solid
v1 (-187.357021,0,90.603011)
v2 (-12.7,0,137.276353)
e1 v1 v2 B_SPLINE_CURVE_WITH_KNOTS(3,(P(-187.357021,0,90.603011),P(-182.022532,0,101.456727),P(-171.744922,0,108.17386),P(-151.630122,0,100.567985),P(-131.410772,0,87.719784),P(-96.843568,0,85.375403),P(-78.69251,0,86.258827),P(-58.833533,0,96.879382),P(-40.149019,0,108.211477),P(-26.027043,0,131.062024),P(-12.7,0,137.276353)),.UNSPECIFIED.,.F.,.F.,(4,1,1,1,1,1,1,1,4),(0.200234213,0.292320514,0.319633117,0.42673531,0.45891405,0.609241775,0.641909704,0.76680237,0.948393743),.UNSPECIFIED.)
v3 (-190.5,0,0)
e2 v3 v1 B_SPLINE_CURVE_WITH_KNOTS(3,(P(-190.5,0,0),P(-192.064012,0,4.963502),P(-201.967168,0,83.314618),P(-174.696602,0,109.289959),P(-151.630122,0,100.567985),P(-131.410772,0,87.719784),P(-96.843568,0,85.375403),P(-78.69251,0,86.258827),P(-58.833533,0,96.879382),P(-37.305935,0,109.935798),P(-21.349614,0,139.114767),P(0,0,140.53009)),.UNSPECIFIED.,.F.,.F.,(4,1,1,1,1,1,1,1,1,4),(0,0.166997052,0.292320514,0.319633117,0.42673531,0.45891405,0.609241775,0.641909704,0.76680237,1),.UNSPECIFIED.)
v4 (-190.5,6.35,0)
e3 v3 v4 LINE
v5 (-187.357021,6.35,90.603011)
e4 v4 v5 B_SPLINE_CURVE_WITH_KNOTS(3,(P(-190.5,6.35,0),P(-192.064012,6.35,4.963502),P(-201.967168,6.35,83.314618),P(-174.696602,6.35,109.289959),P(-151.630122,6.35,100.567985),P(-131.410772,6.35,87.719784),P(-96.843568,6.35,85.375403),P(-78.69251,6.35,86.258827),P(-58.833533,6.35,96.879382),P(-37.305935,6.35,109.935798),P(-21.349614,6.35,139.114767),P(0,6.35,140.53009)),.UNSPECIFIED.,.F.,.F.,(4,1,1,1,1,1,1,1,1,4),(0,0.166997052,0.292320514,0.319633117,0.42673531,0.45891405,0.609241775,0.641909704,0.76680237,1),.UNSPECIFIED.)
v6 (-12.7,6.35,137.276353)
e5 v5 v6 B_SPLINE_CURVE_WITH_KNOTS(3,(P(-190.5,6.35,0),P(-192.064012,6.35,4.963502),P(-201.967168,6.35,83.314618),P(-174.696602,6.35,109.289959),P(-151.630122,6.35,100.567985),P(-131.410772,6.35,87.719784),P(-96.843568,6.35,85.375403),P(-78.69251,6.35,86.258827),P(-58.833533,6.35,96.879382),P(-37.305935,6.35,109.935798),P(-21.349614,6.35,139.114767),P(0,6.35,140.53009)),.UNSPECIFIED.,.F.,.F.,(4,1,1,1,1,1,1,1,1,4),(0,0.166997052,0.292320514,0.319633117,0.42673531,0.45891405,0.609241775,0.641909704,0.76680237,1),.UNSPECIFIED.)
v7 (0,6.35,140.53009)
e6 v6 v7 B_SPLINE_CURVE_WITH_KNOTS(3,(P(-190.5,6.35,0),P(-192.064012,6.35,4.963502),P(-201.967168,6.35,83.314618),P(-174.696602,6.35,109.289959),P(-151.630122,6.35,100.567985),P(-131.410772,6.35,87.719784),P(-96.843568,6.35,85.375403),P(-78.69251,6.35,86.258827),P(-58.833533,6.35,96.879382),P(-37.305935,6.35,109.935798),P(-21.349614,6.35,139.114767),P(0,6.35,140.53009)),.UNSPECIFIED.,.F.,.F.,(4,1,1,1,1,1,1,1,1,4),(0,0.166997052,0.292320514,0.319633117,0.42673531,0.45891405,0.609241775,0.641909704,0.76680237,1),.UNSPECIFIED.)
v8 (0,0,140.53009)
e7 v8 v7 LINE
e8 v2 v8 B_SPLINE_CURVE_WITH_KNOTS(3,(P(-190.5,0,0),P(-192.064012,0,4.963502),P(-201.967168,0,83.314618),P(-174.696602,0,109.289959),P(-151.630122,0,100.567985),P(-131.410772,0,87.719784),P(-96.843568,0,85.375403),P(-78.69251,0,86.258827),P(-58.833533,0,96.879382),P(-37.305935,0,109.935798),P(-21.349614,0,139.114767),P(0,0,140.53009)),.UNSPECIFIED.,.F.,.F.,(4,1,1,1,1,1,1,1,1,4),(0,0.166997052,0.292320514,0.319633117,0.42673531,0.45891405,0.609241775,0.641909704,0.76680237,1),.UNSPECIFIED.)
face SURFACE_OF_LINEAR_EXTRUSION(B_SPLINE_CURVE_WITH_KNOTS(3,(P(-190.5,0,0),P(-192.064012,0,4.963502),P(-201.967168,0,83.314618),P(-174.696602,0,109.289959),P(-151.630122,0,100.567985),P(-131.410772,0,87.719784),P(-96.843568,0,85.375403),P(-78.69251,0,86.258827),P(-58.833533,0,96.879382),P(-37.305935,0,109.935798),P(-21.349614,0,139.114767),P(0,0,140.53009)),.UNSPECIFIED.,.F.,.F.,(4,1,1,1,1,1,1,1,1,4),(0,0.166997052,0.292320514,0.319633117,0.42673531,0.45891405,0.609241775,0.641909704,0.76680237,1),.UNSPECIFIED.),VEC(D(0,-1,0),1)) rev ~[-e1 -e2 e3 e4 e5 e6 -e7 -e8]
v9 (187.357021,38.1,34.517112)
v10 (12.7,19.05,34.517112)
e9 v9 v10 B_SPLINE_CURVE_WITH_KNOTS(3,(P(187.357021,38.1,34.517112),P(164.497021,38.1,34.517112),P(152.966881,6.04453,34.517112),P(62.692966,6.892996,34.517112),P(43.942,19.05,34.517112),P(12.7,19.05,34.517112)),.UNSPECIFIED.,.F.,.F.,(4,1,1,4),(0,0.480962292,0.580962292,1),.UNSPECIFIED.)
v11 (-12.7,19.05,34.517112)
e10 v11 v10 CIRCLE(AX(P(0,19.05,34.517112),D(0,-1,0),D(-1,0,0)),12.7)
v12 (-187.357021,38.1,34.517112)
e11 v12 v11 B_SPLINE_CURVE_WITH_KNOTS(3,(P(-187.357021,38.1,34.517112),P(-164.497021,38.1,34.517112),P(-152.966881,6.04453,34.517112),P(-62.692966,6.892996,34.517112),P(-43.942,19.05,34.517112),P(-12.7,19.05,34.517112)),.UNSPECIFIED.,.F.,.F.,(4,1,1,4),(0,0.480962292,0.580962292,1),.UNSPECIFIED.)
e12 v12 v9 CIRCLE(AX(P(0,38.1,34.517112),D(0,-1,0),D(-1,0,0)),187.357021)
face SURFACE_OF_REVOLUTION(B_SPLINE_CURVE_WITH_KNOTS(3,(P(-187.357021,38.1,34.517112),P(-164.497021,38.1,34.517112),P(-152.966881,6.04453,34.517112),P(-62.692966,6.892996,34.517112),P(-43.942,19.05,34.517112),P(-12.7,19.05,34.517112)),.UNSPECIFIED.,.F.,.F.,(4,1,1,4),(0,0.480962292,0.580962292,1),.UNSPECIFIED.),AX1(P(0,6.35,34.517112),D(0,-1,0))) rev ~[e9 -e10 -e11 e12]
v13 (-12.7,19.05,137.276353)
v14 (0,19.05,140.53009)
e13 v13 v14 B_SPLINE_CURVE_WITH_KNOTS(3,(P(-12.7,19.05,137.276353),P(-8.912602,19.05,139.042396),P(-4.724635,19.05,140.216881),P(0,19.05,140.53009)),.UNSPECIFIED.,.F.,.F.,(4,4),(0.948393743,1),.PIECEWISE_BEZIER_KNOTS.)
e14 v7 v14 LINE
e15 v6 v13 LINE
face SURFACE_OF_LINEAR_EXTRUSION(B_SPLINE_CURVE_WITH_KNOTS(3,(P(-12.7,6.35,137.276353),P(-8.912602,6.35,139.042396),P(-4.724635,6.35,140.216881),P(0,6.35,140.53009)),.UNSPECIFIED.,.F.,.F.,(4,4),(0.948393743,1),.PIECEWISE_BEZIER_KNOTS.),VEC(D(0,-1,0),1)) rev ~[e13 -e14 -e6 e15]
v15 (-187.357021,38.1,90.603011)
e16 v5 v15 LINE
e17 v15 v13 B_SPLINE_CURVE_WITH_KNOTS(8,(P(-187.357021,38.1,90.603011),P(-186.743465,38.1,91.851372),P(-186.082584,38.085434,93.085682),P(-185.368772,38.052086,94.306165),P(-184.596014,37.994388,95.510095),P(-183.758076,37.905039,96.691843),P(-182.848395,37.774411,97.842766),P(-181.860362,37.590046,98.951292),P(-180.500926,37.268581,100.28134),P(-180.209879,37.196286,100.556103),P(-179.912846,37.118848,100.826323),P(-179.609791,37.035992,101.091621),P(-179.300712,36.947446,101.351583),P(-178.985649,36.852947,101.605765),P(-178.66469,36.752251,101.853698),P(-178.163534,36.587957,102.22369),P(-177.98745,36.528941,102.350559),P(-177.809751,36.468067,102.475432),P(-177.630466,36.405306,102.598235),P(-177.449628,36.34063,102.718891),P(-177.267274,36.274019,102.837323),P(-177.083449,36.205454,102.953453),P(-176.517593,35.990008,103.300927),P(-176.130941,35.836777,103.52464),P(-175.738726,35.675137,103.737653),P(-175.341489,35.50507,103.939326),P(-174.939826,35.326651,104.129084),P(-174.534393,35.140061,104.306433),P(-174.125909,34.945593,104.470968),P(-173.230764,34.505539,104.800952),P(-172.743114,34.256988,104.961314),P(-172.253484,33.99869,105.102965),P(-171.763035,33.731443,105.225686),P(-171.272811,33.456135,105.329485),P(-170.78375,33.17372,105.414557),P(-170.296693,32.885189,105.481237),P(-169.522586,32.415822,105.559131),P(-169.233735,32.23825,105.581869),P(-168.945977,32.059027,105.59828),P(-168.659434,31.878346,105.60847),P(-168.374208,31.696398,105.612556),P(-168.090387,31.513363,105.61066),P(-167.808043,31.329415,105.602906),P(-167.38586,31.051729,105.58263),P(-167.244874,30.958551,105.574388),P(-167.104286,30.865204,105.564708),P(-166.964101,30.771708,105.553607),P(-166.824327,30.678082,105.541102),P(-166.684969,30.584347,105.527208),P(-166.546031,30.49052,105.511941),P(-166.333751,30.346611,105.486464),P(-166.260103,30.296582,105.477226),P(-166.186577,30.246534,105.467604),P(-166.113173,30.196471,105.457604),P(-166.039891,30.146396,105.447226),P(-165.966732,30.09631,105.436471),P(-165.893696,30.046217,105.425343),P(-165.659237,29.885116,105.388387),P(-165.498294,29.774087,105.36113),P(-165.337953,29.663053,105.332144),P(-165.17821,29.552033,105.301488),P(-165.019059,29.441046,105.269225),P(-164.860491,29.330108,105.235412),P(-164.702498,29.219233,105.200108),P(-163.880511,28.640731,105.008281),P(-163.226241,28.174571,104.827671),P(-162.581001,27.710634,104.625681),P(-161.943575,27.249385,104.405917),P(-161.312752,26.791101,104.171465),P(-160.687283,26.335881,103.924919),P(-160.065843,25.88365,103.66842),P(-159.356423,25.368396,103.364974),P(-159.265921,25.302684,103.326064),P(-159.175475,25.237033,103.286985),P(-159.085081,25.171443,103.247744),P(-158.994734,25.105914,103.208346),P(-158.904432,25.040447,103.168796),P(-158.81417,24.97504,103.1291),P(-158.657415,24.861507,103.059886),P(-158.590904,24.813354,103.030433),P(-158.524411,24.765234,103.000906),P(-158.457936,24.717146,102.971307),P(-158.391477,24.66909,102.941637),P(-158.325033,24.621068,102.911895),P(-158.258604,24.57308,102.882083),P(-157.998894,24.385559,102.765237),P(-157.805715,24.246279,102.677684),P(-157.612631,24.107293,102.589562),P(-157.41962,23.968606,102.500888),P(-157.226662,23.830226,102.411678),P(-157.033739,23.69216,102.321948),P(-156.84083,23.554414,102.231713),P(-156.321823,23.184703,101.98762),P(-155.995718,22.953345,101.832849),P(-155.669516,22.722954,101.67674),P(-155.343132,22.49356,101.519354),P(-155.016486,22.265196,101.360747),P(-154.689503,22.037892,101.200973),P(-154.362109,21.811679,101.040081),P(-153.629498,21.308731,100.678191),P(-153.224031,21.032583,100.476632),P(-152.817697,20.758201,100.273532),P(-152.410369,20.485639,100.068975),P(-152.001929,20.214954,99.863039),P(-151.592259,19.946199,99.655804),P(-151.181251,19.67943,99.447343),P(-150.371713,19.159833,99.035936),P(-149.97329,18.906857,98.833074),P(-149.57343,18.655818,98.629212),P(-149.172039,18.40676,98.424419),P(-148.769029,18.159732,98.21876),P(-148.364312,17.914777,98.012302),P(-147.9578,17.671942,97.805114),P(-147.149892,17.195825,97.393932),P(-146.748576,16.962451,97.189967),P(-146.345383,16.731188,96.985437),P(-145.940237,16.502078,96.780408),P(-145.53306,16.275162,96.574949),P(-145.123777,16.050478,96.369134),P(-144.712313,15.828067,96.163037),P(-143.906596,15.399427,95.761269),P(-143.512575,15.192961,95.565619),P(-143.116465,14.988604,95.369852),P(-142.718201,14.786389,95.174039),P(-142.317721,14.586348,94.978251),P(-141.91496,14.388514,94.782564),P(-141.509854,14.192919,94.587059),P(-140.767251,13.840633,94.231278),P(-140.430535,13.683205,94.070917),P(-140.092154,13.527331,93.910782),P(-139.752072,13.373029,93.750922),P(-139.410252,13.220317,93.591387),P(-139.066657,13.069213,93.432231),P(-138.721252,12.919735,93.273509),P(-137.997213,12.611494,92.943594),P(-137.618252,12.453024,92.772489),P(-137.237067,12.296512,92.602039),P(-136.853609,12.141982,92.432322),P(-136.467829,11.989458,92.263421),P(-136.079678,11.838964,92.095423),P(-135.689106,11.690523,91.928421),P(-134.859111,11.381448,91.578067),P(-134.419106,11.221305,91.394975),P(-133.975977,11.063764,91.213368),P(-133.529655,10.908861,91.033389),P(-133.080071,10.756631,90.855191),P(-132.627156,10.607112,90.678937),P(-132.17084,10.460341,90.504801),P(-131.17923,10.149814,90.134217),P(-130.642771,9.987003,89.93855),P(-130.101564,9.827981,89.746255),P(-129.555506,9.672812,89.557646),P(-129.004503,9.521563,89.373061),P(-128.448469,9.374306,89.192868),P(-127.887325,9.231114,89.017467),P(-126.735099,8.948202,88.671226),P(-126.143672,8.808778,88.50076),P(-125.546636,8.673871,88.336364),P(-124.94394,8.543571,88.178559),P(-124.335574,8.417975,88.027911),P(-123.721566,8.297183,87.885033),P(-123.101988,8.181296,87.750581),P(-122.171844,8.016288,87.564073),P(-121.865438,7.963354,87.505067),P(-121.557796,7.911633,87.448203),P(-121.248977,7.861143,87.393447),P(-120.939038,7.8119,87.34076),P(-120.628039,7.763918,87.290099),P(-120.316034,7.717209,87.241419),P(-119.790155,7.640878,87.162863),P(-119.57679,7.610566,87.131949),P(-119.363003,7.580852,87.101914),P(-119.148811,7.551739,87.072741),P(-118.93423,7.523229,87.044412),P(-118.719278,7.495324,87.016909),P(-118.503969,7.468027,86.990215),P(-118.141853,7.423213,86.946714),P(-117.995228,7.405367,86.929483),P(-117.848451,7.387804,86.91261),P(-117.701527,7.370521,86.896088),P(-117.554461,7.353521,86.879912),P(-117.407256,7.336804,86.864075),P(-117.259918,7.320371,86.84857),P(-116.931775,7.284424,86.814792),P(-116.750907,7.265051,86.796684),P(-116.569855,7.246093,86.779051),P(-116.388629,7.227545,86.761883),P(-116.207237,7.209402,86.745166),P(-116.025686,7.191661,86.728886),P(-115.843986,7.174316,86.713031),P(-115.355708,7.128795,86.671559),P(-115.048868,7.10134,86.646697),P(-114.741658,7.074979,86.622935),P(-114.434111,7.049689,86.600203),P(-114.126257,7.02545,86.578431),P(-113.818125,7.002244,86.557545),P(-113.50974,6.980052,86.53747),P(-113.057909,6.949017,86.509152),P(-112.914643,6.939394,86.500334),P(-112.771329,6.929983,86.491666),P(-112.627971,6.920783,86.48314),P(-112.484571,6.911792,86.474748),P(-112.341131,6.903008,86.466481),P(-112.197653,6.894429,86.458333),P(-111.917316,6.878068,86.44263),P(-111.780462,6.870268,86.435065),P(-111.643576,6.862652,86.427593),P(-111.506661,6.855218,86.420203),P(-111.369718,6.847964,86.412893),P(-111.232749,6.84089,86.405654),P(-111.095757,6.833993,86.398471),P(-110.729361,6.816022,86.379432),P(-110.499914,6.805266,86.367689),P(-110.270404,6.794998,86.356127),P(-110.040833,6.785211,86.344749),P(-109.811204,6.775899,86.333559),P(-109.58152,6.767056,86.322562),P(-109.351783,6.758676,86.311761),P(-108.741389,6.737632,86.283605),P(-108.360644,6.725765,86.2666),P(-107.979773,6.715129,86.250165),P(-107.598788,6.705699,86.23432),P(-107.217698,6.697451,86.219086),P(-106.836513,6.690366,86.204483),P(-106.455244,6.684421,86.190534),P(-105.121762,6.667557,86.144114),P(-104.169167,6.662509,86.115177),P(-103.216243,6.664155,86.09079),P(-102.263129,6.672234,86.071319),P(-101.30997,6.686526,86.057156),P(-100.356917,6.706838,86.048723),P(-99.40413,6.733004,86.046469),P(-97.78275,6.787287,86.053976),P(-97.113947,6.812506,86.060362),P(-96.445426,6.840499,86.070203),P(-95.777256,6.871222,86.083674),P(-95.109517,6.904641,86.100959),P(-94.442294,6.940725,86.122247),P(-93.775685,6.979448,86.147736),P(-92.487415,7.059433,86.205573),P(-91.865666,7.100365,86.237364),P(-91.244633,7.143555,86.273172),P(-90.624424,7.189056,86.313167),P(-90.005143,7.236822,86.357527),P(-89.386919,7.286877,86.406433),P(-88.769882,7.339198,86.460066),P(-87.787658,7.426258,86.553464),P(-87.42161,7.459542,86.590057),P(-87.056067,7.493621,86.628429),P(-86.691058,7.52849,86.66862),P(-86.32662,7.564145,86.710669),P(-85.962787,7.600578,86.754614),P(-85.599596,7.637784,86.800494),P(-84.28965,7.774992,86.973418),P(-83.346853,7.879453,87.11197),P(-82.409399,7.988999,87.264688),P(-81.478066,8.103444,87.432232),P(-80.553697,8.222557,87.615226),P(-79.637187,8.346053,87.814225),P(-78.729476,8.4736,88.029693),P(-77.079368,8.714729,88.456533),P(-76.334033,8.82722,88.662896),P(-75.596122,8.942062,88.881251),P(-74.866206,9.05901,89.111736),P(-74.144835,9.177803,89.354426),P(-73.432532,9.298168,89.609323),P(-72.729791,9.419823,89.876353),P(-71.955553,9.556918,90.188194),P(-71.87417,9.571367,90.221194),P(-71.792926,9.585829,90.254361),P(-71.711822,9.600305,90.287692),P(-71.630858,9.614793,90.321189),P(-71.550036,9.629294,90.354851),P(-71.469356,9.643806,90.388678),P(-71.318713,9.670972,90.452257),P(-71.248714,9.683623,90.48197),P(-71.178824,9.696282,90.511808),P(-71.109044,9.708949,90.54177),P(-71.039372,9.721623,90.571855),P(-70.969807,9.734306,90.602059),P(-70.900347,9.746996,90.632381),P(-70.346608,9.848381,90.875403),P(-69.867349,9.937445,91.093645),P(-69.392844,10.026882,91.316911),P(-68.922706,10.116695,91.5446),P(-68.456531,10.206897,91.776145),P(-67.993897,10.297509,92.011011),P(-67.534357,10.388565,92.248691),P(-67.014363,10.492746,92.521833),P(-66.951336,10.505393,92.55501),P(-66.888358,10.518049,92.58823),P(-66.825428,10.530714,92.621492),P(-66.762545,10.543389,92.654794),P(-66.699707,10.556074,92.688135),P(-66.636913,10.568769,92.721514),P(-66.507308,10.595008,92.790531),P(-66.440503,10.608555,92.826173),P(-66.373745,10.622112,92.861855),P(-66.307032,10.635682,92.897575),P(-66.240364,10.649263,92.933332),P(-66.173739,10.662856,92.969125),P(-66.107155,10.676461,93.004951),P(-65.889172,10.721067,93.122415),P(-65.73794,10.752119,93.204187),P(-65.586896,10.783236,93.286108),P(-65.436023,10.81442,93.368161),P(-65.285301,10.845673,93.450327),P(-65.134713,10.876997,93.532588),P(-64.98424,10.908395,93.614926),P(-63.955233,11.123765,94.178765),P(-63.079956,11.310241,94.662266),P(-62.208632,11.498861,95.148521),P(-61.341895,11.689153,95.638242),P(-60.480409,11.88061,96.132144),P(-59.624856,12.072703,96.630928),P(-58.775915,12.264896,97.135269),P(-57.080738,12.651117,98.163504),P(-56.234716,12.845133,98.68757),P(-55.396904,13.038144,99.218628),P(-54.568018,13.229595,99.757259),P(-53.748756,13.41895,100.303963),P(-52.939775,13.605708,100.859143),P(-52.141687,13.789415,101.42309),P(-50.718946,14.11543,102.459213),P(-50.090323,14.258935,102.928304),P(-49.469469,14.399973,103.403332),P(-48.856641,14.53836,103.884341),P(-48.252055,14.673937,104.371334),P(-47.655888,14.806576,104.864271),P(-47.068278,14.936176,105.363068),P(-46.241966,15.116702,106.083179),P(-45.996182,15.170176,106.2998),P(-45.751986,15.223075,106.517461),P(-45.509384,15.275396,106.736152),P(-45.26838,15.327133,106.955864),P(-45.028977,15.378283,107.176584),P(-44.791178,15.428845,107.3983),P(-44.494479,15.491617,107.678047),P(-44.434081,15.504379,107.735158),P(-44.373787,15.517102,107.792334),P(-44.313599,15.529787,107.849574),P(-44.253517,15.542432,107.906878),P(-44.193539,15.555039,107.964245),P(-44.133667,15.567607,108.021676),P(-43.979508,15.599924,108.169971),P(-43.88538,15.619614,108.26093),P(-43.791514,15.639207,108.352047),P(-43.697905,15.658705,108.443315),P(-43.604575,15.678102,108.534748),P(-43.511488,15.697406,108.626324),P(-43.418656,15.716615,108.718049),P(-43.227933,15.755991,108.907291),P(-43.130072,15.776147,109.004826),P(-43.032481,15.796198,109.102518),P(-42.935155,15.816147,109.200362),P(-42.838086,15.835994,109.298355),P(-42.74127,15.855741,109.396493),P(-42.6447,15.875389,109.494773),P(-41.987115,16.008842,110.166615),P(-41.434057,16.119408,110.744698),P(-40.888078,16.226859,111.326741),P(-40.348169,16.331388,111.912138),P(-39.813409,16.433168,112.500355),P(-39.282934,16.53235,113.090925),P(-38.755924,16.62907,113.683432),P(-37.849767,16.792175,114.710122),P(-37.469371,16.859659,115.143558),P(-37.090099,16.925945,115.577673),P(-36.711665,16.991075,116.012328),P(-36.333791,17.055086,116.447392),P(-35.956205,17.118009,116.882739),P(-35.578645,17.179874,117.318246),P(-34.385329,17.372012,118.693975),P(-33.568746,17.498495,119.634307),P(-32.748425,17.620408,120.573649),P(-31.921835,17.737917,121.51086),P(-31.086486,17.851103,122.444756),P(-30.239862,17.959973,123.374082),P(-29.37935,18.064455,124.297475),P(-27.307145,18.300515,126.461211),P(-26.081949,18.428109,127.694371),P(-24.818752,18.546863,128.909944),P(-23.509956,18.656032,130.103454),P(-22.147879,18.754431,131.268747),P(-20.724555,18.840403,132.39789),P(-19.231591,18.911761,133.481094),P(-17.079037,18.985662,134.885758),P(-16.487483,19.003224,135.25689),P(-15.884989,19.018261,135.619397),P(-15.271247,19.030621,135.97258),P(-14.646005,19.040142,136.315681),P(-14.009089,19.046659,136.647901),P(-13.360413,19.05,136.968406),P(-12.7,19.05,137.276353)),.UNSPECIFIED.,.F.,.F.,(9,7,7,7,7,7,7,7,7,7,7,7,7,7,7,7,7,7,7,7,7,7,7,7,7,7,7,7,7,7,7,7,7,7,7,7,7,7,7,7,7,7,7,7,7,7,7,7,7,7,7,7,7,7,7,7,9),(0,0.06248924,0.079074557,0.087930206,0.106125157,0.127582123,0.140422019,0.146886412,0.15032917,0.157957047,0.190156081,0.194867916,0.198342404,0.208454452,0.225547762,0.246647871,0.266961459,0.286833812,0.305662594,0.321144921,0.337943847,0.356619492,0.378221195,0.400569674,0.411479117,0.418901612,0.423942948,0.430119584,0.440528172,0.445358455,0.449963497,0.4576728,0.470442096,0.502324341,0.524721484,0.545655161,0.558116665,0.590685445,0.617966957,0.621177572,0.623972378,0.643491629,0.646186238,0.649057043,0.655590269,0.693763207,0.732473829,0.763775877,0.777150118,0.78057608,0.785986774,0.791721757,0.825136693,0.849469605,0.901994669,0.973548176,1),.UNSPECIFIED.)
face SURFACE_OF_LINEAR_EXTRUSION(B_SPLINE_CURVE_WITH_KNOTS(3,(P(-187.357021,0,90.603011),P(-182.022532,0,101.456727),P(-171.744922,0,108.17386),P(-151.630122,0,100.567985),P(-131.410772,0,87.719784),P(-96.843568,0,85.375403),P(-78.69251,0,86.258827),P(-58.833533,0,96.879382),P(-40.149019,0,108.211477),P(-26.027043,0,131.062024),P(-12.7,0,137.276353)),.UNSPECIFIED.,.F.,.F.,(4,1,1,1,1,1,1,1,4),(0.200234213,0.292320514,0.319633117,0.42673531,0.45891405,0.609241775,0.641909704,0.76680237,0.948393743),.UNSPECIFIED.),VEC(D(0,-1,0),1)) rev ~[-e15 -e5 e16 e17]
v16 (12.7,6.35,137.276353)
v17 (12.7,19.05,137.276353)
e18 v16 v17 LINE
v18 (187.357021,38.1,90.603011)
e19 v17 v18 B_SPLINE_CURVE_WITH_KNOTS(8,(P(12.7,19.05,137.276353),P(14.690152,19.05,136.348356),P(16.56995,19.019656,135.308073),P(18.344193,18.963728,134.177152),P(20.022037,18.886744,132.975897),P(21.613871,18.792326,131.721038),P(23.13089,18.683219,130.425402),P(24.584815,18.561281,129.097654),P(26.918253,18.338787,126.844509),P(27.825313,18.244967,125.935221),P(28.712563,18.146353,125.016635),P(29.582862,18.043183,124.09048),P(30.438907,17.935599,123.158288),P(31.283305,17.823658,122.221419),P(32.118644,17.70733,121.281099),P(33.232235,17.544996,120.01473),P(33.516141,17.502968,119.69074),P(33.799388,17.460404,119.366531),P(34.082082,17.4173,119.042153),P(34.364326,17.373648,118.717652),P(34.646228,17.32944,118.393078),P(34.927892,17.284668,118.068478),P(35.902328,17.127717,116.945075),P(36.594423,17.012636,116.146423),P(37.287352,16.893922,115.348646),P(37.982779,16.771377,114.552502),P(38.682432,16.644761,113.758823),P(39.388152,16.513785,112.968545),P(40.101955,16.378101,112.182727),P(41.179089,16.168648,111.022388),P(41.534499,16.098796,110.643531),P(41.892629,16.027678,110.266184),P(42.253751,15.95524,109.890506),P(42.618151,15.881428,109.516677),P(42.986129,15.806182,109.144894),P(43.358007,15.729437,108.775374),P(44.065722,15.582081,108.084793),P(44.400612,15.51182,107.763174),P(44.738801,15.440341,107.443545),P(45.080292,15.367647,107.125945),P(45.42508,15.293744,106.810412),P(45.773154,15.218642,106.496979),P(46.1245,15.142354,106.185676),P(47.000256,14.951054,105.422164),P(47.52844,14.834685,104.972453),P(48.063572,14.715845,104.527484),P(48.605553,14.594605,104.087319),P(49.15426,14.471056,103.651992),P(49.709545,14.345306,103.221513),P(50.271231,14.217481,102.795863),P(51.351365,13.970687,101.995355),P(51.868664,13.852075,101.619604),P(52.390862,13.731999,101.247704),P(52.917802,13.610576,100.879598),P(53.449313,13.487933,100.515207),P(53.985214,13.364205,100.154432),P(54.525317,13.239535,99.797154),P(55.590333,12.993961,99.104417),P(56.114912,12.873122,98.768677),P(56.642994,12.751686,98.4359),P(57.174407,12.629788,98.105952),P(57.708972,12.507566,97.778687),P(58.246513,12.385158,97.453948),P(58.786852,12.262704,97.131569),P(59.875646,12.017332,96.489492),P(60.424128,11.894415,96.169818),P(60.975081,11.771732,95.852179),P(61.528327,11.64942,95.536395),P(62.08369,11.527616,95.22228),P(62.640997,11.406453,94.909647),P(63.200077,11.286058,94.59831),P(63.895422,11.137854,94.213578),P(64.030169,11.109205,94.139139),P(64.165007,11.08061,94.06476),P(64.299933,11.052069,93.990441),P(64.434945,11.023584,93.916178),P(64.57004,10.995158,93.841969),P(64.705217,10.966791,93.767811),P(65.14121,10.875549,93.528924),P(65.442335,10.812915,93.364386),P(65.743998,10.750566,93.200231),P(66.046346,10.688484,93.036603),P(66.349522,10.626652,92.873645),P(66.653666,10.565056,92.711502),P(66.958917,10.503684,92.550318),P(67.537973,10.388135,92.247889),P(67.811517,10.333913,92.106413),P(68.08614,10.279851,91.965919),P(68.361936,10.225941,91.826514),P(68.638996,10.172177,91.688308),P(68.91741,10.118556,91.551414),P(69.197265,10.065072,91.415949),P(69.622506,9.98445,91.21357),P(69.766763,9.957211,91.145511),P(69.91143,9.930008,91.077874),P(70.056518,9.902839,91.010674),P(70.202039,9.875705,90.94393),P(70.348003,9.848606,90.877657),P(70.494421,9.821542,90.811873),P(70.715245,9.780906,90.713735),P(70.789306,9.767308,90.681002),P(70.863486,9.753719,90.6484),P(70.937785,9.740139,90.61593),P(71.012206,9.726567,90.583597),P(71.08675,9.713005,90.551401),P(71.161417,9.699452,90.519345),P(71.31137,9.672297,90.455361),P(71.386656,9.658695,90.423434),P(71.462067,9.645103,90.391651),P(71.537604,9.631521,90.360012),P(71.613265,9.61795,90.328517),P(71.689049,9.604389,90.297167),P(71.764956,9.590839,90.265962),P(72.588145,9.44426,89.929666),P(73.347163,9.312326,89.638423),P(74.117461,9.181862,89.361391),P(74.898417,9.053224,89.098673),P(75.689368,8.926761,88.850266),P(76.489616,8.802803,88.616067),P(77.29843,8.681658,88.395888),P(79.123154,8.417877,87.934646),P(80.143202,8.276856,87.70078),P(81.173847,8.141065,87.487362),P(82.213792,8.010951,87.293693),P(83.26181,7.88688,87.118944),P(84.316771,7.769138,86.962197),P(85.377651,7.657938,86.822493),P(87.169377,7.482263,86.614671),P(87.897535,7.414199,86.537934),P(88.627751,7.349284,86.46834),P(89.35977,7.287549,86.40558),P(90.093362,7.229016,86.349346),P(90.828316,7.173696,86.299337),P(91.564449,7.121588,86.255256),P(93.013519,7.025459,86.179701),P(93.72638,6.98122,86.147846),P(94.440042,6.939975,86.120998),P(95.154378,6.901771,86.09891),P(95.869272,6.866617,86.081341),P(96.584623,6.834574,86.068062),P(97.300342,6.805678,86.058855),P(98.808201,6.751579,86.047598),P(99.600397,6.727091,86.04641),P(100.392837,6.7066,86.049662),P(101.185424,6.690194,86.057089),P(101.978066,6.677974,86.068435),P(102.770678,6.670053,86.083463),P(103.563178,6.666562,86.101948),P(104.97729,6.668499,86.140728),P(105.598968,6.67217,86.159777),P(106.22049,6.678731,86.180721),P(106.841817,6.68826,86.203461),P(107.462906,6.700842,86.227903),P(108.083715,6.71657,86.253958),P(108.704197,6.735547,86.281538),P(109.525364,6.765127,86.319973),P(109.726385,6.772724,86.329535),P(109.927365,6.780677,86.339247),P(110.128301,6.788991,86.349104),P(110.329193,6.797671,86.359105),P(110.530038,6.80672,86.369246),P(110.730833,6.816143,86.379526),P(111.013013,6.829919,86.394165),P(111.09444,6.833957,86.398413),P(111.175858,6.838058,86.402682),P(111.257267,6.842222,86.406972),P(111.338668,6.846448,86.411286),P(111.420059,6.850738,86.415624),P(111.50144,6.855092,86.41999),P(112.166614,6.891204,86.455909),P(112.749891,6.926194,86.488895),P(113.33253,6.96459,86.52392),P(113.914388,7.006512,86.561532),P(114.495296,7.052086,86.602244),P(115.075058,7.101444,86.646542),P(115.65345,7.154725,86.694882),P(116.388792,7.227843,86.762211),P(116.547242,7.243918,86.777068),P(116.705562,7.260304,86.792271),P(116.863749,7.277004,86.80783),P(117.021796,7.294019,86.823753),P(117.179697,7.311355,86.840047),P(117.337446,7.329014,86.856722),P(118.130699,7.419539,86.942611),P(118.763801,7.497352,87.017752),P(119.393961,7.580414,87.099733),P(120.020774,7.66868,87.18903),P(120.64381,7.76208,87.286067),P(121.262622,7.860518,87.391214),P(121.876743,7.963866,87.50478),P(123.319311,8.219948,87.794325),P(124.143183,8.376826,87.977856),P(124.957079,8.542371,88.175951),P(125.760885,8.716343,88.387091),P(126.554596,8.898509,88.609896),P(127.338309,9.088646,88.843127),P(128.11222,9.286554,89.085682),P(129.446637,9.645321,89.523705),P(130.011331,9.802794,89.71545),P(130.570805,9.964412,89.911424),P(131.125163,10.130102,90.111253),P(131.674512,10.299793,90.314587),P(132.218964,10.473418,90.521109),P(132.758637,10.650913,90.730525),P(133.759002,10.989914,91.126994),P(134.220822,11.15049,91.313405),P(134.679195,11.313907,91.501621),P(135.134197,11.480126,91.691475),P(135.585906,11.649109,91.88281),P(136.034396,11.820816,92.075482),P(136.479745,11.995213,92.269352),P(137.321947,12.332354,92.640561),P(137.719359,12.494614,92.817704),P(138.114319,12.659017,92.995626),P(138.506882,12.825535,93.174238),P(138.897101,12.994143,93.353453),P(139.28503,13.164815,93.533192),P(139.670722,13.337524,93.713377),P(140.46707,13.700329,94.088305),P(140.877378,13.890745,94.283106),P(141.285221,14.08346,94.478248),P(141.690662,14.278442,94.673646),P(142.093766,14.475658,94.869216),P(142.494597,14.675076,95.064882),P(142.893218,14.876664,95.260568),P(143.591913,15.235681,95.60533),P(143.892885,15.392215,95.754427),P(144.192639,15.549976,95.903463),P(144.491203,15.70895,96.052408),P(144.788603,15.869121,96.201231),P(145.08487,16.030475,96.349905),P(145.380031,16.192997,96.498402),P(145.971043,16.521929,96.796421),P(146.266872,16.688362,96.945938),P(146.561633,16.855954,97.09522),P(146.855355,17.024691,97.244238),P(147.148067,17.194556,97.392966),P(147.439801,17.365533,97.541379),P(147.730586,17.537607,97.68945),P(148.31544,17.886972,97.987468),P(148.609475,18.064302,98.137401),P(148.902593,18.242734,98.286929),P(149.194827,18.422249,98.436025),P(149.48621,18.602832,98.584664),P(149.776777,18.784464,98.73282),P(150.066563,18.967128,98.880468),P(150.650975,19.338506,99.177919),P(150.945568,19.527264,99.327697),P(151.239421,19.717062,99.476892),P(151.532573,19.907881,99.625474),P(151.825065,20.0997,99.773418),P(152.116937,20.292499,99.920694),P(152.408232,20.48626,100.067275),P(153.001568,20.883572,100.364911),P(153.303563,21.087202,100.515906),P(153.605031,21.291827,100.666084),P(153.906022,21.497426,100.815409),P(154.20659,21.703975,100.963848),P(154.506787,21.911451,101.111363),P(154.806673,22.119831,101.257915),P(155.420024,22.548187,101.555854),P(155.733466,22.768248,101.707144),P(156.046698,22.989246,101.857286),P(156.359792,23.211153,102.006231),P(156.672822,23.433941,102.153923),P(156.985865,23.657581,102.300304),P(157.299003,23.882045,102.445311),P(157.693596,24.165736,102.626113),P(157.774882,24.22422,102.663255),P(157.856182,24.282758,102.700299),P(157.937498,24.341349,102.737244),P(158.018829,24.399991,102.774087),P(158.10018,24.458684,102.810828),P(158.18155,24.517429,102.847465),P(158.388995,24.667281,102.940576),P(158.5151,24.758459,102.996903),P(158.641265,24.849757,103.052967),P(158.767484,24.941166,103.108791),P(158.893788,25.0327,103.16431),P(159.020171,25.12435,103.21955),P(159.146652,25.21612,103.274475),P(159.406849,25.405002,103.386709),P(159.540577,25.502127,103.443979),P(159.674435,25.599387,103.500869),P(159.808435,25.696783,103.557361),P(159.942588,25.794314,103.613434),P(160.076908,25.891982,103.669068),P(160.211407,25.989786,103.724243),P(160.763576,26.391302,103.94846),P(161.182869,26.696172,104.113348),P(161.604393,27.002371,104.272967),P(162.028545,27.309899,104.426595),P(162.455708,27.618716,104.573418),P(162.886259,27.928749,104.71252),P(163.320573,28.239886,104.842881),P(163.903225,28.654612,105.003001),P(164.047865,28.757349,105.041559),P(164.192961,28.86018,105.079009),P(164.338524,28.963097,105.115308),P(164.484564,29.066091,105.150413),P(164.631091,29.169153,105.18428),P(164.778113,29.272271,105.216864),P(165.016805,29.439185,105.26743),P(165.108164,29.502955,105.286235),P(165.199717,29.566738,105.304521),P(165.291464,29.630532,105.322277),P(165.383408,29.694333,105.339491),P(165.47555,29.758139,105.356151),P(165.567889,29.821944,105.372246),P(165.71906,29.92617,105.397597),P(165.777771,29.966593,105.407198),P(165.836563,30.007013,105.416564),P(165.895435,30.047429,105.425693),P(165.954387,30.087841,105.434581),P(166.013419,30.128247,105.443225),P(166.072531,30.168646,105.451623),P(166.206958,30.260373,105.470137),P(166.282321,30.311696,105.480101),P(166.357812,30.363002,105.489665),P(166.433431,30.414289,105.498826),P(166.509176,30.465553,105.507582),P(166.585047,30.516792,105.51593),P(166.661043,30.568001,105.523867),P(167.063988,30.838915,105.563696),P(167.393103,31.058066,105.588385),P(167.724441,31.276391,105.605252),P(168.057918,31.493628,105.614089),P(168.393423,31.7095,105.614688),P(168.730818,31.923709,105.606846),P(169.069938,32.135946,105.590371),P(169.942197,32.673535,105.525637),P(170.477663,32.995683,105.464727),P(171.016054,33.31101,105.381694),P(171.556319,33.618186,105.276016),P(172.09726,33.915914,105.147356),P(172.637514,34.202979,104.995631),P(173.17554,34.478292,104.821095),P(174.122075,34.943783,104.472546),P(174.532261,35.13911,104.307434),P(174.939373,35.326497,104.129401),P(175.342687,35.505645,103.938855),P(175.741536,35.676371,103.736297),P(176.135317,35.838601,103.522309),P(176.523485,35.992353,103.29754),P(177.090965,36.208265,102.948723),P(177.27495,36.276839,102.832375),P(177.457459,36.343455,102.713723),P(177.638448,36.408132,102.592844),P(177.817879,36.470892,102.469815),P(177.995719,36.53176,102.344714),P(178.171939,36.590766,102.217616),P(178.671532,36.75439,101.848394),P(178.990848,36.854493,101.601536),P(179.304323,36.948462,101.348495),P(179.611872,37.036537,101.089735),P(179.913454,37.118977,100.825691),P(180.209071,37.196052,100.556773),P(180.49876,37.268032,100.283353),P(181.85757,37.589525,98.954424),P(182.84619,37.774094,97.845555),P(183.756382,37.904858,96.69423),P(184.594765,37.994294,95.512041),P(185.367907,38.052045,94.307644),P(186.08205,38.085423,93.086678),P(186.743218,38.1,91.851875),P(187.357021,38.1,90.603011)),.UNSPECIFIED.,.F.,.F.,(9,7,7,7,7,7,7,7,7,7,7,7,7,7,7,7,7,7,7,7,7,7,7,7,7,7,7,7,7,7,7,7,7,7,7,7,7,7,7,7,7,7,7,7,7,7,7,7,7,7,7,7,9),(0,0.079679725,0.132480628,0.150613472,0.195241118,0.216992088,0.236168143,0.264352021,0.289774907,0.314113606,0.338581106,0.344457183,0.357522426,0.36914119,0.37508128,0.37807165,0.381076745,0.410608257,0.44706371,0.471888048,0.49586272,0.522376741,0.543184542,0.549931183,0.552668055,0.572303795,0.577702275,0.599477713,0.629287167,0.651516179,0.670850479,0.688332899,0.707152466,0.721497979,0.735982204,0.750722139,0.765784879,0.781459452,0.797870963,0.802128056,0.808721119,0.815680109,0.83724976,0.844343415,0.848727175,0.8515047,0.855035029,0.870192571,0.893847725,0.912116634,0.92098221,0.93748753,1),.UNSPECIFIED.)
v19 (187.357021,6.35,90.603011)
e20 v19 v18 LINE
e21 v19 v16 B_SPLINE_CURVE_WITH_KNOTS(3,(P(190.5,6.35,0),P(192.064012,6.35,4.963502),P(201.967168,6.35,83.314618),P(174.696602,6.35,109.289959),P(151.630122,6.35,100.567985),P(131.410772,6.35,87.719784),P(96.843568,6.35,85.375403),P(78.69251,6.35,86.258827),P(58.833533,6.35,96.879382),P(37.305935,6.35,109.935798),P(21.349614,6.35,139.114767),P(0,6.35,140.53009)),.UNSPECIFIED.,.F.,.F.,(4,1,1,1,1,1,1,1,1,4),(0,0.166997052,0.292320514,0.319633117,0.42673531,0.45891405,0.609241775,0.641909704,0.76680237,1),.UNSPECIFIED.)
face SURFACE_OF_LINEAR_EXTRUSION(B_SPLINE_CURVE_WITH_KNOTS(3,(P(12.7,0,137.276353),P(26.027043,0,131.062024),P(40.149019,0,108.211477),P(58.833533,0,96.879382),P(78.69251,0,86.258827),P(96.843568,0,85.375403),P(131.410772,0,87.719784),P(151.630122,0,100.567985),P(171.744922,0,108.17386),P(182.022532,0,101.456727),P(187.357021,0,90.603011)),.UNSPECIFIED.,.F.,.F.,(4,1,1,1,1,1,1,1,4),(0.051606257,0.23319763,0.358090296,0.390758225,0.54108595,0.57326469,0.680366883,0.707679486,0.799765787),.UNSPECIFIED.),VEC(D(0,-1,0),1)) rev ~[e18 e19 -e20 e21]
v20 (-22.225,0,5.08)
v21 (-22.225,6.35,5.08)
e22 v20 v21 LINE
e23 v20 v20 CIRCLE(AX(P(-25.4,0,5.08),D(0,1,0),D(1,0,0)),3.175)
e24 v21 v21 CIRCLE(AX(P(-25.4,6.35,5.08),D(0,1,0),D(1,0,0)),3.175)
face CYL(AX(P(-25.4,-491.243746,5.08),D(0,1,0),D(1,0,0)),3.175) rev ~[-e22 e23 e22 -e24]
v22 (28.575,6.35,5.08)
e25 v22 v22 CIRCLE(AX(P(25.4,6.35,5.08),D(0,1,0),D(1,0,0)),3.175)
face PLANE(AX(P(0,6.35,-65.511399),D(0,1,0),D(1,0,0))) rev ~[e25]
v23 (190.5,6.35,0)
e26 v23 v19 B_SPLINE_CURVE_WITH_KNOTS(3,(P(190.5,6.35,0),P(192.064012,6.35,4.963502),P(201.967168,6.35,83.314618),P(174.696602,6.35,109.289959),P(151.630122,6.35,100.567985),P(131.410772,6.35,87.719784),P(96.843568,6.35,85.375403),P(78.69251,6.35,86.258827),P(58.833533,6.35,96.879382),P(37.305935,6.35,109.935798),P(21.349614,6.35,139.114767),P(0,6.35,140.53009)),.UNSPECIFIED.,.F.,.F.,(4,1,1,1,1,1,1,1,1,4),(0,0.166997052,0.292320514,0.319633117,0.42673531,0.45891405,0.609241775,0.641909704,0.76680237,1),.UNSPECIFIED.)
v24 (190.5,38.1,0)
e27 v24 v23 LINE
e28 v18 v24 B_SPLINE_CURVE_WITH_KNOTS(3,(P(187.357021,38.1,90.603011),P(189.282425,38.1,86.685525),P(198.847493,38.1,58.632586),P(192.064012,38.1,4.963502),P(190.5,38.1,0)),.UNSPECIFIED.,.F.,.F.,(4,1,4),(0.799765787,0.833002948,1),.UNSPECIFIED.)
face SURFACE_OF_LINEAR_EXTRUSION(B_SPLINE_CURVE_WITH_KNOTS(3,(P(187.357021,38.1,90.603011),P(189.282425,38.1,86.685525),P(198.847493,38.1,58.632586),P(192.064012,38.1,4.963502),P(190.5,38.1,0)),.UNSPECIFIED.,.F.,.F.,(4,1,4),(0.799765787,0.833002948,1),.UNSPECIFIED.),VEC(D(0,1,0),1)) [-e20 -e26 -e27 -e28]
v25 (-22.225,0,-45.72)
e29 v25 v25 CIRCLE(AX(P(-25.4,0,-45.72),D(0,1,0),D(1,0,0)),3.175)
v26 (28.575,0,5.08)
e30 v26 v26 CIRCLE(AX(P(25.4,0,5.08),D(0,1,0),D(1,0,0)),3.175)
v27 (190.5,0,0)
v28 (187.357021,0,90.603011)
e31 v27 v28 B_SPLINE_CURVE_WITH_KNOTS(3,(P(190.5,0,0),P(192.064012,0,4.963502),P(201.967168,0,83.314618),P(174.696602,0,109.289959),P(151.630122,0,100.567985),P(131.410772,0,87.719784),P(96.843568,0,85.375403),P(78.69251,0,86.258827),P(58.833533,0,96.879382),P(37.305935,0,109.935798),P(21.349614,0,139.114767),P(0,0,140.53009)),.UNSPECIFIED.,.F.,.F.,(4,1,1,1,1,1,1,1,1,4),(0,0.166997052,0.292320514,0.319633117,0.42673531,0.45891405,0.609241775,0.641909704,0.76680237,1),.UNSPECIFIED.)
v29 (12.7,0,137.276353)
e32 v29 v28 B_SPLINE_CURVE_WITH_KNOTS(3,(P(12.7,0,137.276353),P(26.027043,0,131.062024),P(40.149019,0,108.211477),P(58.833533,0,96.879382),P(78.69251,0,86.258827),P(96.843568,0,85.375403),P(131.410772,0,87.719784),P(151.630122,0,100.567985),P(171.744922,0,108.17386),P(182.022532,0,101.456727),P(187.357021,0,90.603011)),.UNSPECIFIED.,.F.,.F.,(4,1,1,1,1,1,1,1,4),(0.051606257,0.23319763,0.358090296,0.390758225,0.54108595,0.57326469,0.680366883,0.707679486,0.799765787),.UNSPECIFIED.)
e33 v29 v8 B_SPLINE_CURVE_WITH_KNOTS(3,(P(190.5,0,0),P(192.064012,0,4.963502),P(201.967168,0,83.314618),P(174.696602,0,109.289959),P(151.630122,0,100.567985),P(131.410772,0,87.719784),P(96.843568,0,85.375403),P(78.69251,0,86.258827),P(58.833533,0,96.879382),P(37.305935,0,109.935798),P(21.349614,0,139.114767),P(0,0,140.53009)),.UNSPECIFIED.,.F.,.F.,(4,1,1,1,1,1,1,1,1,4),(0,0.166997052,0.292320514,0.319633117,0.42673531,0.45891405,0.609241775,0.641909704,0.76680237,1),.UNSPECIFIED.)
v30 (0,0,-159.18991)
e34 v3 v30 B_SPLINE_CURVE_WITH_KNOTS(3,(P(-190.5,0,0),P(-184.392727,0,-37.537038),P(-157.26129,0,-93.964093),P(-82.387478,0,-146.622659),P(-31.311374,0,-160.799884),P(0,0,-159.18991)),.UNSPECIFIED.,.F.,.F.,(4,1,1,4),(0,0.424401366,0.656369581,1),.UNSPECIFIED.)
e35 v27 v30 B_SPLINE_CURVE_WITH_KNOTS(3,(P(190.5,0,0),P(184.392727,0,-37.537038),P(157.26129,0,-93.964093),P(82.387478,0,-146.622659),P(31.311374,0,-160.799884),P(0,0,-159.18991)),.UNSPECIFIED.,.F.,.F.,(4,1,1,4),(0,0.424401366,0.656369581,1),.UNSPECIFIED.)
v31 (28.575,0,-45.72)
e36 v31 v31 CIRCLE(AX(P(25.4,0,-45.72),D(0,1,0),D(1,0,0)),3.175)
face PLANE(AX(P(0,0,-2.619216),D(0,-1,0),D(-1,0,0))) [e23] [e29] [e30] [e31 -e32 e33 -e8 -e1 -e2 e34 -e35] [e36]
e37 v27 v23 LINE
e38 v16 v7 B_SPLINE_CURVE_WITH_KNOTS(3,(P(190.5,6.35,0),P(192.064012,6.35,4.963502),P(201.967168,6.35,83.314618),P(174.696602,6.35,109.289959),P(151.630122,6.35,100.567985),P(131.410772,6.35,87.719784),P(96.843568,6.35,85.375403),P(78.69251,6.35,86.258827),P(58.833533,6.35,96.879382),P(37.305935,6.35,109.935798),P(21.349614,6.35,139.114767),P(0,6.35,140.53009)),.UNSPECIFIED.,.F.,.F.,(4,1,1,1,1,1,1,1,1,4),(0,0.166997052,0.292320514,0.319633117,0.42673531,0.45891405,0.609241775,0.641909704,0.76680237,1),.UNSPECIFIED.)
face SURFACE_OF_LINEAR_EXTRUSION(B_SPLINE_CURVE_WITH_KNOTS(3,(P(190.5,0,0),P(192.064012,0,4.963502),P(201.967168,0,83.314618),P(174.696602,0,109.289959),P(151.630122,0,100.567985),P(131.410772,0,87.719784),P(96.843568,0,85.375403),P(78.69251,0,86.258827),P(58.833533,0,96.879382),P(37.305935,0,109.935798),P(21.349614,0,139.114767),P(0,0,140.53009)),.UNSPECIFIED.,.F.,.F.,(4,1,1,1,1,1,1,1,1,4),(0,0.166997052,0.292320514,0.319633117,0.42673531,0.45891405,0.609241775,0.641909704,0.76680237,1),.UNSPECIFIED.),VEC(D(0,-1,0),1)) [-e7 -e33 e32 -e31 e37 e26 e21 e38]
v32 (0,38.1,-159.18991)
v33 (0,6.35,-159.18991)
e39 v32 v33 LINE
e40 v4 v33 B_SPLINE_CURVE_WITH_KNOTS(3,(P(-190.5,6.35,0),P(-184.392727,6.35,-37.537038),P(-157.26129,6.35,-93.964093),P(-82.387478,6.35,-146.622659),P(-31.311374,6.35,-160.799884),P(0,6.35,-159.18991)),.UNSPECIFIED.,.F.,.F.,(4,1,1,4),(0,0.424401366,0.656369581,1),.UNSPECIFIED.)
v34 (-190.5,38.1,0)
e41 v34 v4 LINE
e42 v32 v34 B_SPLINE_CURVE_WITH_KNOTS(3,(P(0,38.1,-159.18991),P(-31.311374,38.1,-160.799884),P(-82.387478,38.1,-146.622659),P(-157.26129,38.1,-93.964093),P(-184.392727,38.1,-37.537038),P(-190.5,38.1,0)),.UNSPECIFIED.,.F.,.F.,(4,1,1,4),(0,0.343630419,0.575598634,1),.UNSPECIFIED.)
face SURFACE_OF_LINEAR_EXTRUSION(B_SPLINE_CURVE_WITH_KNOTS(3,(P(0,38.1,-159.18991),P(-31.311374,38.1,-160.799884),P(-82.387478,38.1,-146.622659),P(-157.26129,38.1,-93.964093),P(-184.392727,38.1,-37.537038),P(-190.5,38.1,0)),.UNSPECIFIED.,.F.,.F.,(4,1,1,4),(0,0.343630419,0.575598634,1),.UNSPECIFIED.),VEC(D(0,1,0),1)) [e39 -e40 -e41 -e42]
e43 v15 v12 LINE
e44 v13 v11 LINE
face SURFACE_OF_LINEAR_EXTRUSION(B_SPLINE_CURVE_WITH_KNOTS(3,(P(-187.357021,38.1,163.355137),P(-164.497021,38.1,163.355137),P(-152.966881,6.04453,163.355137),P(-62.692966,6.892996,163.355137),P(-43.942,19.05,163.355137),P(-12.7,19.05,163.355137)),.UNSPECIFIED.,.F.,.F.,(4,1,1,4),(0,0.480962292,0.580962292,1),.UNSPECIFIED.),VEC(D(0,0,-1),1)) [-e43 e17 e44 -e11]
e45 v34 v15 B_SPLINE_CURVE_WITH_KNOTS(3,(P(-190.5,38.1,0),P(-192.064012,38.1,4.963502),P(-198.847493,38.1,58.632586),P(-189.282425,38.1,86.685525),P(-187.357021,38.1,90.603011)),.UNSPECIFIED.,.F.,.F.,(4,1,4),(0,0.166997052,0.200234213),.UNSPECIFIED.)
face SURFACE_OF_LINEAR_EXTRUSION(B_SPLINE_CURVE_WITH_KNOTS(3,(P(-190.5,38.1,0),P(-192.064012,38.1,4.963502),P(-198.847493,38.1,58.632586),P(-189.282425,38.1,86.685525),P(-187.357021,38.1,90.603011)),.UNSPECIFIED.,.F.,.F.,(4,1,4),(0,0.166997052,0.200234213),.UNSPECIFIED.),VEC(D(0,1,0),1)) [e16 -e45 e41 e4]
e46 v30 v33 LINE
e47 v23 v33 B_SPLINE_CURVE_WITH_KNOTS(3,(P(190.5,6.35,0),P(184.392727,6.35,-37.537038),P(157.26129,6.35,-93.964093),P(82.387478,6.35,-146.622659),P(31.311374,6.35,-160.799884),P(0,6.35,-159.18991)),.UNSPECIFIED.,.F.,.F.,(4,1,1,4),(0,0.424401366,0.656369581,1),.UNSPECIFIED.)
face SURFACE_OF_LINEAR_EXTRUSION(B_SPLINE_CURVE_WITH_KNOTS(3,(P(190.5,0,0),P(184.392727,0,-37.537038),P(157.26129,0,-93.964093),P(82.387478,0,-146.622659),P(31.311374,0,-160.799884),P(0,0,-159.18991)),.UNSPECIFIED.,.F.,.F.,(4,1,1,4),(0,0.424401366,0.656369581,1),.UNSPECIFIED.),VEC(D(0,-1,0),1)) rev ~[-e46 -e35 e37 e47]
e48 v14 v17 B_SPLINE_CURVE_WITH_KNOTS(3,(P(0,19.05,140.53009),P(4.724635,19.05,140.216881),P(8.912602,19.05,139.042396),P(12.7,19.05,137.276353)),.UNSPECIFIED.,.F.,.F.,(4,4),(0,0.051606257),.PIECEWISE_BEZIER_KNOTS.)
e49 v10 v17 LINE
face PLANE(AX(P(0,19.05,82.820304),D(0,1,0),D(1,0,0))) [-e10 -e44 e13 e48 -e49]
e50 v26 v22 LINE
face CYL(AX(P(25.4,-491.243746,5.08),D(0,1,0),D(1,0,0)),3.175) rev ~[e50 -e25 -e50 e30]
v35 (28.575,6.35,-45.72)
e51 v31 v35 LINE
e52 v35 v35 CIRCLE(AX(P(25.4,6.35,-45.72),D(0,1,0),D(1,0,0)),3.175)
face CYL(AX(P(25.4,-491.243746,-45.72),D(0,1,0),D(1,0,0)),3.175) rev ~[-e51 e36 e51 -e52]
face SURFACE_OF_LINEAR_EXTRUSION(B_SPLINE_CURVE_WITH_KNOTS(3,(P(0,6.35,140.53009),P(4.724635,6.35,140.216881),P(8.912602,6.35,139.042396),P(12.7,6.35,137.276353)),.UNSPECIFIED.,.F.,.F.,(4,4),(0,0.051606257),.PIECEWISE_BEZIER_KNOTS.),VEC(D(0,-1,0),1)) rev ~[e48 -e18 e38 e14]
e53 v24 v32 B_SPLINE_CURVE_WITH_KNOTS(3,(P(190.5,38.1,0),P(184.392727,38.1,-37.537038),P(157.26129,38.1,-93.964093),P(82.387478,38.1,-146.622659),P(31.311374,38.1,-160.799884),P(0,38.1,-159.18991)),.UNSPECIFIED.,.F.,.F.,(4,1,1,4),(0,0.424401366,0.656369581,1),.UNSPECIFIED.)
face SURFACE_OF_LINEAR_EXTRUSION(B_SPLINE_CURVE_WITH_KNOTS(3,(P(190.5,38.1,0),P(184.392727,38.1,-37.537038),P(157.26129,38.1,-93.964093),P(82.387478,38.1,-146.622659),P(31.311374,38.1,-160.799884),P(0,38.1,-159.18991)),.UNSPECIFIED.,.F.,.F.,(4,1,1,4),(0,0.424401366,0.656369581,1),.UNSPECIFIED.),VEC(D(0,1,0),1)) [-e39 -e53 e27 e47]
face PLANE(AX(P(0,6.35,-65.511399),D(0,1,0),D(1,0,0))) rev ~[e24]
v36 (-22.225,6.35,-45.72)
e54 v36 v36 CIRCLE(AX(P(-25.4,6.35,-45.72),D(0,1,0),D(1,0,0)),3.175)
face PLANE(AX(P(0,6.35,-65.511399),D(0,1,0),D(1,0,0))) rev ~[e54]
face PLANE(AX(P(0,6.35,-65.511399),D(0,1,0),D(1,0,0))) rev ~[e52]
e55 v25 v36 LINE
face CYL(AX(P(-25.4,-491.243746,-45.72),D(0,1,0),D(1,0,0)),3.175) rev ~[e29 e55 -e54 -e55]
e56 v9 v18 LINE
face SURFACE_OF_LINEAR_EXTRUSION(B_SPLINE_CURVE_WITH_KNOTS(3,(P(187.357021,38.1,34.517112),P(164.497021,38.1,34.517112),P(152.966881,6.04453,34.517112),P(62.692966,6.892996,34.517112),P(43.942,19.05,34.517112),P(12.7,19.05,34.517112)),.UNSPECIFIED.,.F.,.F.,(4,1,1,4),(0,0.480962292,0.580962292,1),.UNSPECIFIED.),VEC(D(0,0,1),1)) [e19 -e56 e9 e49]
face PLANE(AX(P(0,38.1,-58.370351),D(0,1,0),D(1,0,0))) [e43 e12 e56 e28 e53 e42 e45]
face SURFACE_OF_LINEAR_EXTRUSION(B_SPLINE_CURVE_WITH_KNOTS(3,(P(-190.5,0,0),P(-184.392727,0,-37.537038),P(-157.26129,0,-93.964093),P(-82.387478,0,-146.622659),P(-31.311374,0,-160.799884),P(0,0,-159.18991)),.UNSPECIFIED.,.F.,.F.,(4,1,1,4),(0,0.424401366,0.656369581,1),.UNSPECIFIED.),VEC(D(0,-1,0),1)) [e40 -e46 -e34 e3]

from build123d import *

# Parameters (mm, degrees)
BOSS_EXTRUDE1_DEPTH         = 6.35
F_1_4_0_25_DIAMETER_HOLE1_D = 6.35
CUT_EXTRUDE3_DEPTH          = 257.844790723
BOSS_EXTRUDE2_START         = 31.75
BOSS_EXTRUDE2_DEPTH         = 31.75
BOSS_EXTRUDE3_DEPTH         = 12.7


with BuildPart() as part:
    # Sketch3 → Boss-Extrude1 (new body)
    with BuildSketch(Plane(origin=(0, 0, 0), x_dir=(1, 0, 0), z_dir=(0, 1, 0))):
        with BuildLine():
            add(Edge.make_bspline(
                [(-190.5, 0), (-184.392726562, 37.537038237), (-157.261289847, 93.964093485), (-82.387478202, 146.622658841), (-31.311374143, 160.799884185), (0, 159.189909928)],
                knots=[0, 0, 0, 0, 0.424401366, 0.656369581, 1, 1, 1, 1], degree=3))
            add(Edge.make_bspline(
                [(190.5, 0), (184.392726562, 37.537038237), (157.261289847, 93.964093485), (82.387478202, 146.622658841), (31.311374143, 160.799884185), (0, 159.189909928)],
                knots=[0, 0, 0, 0, 0.424401366, 0.656369581, 1, 1, 1, 1], degree=3))
            add(Edge.make_bspline(
                [(190.5, 0), (192.064011793, -4.963501926), (201.967167766, -83.314618311), (174.696602041, -109.289958804), (151.630121659, -100.567984898), (131.410771519, -87.719783961), (96.843567628, -85.375403377), (78.692510144, -86.25882742), (58.833533072, -96.87938247), (37.30593461, -109.935798162), (21.349613946, -139.114767457), (0, -140.530090072)],
                knots=[0, 0, 0, 0, 0.166997052, 0.292320514, 0.319633117, 0.42673531, 0.45891405, 0.609241775, 0.641909704, 0.76680237, 1, 1, 1, 1], degree=3))
            add(Edge.make_bspline(
                [(-190.5, 0), (-192.064011793, -4.963501926), (-201.967167766, -83.314618311), (-174.696602041, -109.289958804), (-151.630121659, -100.567984898), (-131.410771519, -87.719783961), (-96.843567628, -85.375403377), (-78.692510144, -86.25882742), (-58.833533072, -96.87938247), (-37.30593461, -109.935798162), (-21.349613946, -139.114767457), (0, -140.530090072)],
                knots=[0, 0, 0, 0, 0.166997052, 0.292320514, 0.319633117, 0.42673531, 0.45891405, 0.609241775, 0.641909704, 0.76680237, 1, 1, 1, 1], degree=3))
        make_face()
    extrude(amount=BOSS_EXTRUDE1_DEPTH)

    # 1/4 (0.25) Diameter Hole1 (through all)
    with Locations(Plane(origin=(0, 0, 0), x_dir=(-1, 0, 0), z_dir=(0, -1, 0))):
        with Locations((-25.4, 45.72), (25.4, 45.72), (25.4, -5.08), (-25.4, -5.08)):
            Hole(F_1_4_0_25_DIAMETER_HOLE1_D / 2)

    # Sweep3: sweep along a path in Sketch9
    with BuildLine(Plane(origin=(0, 6.35, 0), x_dir=(1, 0, 0), z_dir=(0, 1, 0))) as sweep3_path:
        Line((-187.357021454, -163.355137278), (-187.357021454, -34.517111526))
        ThreePointArc((-187.357021454, -34.517111526), (0, 152.839909928), (187.357021454, -34.517111526))
        Line((187.357021454, -34.517111526), (187.357021454, -159.794446851))
    # Sketch14 → Sweep3 (sweep)
    with BuildSketch(Plane.XY.offset(159.794446851)):
        with BuildLine():
            Line((187.357021454, 6.35), (187.357021454, 38.1))
            add(Edge.make_bspline(
                [(12.7, 19.05), (43.942, 19.05), (62.692965612, 6.892995609), (152.966881442, 6.044529769), (164.497021454, 38.1), (187.357021454, 38.1)],
                knots=[0, 0, 0, 0, 0.419037708, 0.519037708, 1, 1, 1, 1], degree=3))
            Line((12.7, 19.05), (12.7, 6.35))
            Line((12.7, 6.35), (187.357021454, 6.35))
        make_face()
    sweep(path=sweep3_path.line)

    # Sketch16 → Cut-Extrude3 (cut, through all)
    with BuildSketch(Plane.XZ):
        with BuildLine():
            Line((-187.357021454, 163.355137278), (-187.357021454, 90.603010601))
            add(Edge.make_bspline(
                [(-187.357021454, 90.603010601), (-182.022531897, 101.456727274), (-171.744921629, 108.173859638), (-151.630121659, 100.567984898), (-131.410771519, 87.719783961), (-96.843567628, 85.375403377), (-78.692510144, 86.25882742), (-58.833533072, 96.87938247), (-40.149019421, 108.211476835), (-26.027042678, 131.062023831), (-12.7, 137.276352827)],
                knots=[0.200234213, 0.200234213, 0.200234213, 0.200234213, 0.292320514, 0.319633117, 0.42673531, 0.45891405, 0.609241775, 0.641909704, 0.76680237, 0.948393743, 0.948393743, 0.948393743, 0.948393743], degree=3))
            Line((-12.7, 137.276352827), (-12.7, 163.355137278))
            Line((-12.7, 163.355137278), (-187.357021454, 163.355137278))
        make_face()
        with BuildLine():
            Line((12.7, 159.794446851), (12.7, 137.276352827))
            add(Edge.make_bspline(
                [(12.7, 137.276352827), (26.027042678, 131.062023831), (40.149019421, 108.211476835), (58.833533072, 96.87938247), (78.692510144, 86.25882742), (96.843567628, 85.375403377), (131.410771519, 87.719783961), (151.630121659, 100.567984898), (171.744921629, 108.173859638), (182.022531897, 101.456727274), (187.357021459, 90.603010604)],
                knots=[0.051606257, 0.051606257, 0.051606257, 0.051606257, 0.23319763, 0.358090296, 0.390758225, 0.54108595, 0.57326469, 0.680366883, 0.707679486, 0.799765787, 0.799765787, 0.799765787, 0.799765787], degree=3))
            Line((187.357021459, 90.603010604), (187.357021454, 159.794446851))
            Line((187.357021454, 159.794446851), (12.7, 159.794446851))
        make_face()
    extrude(amount=-CUT_EXTRUDE3_DEPTH, mode=Mode.SUBTRACT)

    # Sketch18 → Boss-Extrude2 (add)
    with BuildSketch(Plane(origin=(0, 6.35, 0), x_dir=(1, 0, 0), z_dir=(0, 1, 0)).offset(BOSS_EXTRUDE2_START)):
        with BuildLine():
            Line((-187.357021454, -90.603010614), (-187.357021454, -34.517111526))
            ThreePointArc((-187.357021454, -34.517111526), (0, 152.839909928), (187.357021454, -34.517111526))
            Line((187.357021454, -34.517111526), (187.357021459, -90.603010604))
            add(Edge.make_bspline(
                [(187.357021459, -90.603010604), (189.282425006, -86.68552528), (198.847492761, -58.632585631), (192.064011793, -4.963501926), (190.5, 0)],
                knots=[0.799765787, 0.799765787, 0.799765787, 0.799765787, 0.833002948, 1, 1, 1, 1], degree=3))
            add(Edge.make_bspline(
                [(190.5, 0), (184.392726562, 37.537038237), (157.261289847, 93.964093485), (82.387478202, 146.622658841), (31.311374143, 160.799884185), (0, 159.189909928)],
                knots=[0, 0, 0, 0, 0.424401366, 0.656369581, 1, 1, 1, 1], degree=3))
            add(Edge.make_bspline(
                [(0, 159.189909928), (-31.311374143, 160.799884185), (-82.387478202, 146.622658841), (-157.261289847, 93.964093485), (-184.392726562, 37.537038237), (-190.5, 0)],
                knots=[0, 0, 0, 0, 0.343630419, 0.575598634, 1, 1, 1, 1], degree=3))
            add(Edge.make_bspline(
                [(-190.5, 0), (-192.064011793, -4.963501926), (-198.847492762, -58.63258564), (-189.282425003, -86.685525289), (-187.357021454, -90.603010614)],
                knots=[0, 0, 0, 0, 0.166997052, 0.200234213, 0.200234213, 0.200234213, 0.200234213], degree=3))
        make_face()
    extrude(amount=-BOSS_EXTRUDE2_DEPTH)

    # Sketch20 → Boss-Extrude3 (add)
    with BuildSketch(Plane(origin=(0, 6.35, 0), x_dir=(1, 0, 0), z_dir=(0, 1, 0))):
        with BuildLine():
            Line((-12.7, -34.517111526), (-12.7, -137.276352827))
            add(Edge.make_bspline(
                [(-12.7, -137.276352827), (-8.912602093, -139.042396293), (-4.724634894, -140.216881476), (0, -140.530090072)],
                knots=[0.948393743, 0.948393743, 0.948393743, 0.948393743, 1, 1, 1, 1], degree=3))
            add(Edge.make_bspline(
                [(0, -140.530090072), (4.724634894, -140.216881476), (8.912602093, -139.042396293), (12.7, -137.276352827)],
                knots=[0, 0, 0, 0, 0.051606257, 0.051606257, 0.051606257, 0.051606257], degree=3))
            Line((12.7, -137.276352827), (12.7, -34.517111526))
            ThreePointArc((12.7, -34.517111526), (0, -21.817111526), (-12.7, -34.517111526))
        make_face()
    extrude(amount=BOSS_EXTRUDE3_DEPTH)


solid = part.part
